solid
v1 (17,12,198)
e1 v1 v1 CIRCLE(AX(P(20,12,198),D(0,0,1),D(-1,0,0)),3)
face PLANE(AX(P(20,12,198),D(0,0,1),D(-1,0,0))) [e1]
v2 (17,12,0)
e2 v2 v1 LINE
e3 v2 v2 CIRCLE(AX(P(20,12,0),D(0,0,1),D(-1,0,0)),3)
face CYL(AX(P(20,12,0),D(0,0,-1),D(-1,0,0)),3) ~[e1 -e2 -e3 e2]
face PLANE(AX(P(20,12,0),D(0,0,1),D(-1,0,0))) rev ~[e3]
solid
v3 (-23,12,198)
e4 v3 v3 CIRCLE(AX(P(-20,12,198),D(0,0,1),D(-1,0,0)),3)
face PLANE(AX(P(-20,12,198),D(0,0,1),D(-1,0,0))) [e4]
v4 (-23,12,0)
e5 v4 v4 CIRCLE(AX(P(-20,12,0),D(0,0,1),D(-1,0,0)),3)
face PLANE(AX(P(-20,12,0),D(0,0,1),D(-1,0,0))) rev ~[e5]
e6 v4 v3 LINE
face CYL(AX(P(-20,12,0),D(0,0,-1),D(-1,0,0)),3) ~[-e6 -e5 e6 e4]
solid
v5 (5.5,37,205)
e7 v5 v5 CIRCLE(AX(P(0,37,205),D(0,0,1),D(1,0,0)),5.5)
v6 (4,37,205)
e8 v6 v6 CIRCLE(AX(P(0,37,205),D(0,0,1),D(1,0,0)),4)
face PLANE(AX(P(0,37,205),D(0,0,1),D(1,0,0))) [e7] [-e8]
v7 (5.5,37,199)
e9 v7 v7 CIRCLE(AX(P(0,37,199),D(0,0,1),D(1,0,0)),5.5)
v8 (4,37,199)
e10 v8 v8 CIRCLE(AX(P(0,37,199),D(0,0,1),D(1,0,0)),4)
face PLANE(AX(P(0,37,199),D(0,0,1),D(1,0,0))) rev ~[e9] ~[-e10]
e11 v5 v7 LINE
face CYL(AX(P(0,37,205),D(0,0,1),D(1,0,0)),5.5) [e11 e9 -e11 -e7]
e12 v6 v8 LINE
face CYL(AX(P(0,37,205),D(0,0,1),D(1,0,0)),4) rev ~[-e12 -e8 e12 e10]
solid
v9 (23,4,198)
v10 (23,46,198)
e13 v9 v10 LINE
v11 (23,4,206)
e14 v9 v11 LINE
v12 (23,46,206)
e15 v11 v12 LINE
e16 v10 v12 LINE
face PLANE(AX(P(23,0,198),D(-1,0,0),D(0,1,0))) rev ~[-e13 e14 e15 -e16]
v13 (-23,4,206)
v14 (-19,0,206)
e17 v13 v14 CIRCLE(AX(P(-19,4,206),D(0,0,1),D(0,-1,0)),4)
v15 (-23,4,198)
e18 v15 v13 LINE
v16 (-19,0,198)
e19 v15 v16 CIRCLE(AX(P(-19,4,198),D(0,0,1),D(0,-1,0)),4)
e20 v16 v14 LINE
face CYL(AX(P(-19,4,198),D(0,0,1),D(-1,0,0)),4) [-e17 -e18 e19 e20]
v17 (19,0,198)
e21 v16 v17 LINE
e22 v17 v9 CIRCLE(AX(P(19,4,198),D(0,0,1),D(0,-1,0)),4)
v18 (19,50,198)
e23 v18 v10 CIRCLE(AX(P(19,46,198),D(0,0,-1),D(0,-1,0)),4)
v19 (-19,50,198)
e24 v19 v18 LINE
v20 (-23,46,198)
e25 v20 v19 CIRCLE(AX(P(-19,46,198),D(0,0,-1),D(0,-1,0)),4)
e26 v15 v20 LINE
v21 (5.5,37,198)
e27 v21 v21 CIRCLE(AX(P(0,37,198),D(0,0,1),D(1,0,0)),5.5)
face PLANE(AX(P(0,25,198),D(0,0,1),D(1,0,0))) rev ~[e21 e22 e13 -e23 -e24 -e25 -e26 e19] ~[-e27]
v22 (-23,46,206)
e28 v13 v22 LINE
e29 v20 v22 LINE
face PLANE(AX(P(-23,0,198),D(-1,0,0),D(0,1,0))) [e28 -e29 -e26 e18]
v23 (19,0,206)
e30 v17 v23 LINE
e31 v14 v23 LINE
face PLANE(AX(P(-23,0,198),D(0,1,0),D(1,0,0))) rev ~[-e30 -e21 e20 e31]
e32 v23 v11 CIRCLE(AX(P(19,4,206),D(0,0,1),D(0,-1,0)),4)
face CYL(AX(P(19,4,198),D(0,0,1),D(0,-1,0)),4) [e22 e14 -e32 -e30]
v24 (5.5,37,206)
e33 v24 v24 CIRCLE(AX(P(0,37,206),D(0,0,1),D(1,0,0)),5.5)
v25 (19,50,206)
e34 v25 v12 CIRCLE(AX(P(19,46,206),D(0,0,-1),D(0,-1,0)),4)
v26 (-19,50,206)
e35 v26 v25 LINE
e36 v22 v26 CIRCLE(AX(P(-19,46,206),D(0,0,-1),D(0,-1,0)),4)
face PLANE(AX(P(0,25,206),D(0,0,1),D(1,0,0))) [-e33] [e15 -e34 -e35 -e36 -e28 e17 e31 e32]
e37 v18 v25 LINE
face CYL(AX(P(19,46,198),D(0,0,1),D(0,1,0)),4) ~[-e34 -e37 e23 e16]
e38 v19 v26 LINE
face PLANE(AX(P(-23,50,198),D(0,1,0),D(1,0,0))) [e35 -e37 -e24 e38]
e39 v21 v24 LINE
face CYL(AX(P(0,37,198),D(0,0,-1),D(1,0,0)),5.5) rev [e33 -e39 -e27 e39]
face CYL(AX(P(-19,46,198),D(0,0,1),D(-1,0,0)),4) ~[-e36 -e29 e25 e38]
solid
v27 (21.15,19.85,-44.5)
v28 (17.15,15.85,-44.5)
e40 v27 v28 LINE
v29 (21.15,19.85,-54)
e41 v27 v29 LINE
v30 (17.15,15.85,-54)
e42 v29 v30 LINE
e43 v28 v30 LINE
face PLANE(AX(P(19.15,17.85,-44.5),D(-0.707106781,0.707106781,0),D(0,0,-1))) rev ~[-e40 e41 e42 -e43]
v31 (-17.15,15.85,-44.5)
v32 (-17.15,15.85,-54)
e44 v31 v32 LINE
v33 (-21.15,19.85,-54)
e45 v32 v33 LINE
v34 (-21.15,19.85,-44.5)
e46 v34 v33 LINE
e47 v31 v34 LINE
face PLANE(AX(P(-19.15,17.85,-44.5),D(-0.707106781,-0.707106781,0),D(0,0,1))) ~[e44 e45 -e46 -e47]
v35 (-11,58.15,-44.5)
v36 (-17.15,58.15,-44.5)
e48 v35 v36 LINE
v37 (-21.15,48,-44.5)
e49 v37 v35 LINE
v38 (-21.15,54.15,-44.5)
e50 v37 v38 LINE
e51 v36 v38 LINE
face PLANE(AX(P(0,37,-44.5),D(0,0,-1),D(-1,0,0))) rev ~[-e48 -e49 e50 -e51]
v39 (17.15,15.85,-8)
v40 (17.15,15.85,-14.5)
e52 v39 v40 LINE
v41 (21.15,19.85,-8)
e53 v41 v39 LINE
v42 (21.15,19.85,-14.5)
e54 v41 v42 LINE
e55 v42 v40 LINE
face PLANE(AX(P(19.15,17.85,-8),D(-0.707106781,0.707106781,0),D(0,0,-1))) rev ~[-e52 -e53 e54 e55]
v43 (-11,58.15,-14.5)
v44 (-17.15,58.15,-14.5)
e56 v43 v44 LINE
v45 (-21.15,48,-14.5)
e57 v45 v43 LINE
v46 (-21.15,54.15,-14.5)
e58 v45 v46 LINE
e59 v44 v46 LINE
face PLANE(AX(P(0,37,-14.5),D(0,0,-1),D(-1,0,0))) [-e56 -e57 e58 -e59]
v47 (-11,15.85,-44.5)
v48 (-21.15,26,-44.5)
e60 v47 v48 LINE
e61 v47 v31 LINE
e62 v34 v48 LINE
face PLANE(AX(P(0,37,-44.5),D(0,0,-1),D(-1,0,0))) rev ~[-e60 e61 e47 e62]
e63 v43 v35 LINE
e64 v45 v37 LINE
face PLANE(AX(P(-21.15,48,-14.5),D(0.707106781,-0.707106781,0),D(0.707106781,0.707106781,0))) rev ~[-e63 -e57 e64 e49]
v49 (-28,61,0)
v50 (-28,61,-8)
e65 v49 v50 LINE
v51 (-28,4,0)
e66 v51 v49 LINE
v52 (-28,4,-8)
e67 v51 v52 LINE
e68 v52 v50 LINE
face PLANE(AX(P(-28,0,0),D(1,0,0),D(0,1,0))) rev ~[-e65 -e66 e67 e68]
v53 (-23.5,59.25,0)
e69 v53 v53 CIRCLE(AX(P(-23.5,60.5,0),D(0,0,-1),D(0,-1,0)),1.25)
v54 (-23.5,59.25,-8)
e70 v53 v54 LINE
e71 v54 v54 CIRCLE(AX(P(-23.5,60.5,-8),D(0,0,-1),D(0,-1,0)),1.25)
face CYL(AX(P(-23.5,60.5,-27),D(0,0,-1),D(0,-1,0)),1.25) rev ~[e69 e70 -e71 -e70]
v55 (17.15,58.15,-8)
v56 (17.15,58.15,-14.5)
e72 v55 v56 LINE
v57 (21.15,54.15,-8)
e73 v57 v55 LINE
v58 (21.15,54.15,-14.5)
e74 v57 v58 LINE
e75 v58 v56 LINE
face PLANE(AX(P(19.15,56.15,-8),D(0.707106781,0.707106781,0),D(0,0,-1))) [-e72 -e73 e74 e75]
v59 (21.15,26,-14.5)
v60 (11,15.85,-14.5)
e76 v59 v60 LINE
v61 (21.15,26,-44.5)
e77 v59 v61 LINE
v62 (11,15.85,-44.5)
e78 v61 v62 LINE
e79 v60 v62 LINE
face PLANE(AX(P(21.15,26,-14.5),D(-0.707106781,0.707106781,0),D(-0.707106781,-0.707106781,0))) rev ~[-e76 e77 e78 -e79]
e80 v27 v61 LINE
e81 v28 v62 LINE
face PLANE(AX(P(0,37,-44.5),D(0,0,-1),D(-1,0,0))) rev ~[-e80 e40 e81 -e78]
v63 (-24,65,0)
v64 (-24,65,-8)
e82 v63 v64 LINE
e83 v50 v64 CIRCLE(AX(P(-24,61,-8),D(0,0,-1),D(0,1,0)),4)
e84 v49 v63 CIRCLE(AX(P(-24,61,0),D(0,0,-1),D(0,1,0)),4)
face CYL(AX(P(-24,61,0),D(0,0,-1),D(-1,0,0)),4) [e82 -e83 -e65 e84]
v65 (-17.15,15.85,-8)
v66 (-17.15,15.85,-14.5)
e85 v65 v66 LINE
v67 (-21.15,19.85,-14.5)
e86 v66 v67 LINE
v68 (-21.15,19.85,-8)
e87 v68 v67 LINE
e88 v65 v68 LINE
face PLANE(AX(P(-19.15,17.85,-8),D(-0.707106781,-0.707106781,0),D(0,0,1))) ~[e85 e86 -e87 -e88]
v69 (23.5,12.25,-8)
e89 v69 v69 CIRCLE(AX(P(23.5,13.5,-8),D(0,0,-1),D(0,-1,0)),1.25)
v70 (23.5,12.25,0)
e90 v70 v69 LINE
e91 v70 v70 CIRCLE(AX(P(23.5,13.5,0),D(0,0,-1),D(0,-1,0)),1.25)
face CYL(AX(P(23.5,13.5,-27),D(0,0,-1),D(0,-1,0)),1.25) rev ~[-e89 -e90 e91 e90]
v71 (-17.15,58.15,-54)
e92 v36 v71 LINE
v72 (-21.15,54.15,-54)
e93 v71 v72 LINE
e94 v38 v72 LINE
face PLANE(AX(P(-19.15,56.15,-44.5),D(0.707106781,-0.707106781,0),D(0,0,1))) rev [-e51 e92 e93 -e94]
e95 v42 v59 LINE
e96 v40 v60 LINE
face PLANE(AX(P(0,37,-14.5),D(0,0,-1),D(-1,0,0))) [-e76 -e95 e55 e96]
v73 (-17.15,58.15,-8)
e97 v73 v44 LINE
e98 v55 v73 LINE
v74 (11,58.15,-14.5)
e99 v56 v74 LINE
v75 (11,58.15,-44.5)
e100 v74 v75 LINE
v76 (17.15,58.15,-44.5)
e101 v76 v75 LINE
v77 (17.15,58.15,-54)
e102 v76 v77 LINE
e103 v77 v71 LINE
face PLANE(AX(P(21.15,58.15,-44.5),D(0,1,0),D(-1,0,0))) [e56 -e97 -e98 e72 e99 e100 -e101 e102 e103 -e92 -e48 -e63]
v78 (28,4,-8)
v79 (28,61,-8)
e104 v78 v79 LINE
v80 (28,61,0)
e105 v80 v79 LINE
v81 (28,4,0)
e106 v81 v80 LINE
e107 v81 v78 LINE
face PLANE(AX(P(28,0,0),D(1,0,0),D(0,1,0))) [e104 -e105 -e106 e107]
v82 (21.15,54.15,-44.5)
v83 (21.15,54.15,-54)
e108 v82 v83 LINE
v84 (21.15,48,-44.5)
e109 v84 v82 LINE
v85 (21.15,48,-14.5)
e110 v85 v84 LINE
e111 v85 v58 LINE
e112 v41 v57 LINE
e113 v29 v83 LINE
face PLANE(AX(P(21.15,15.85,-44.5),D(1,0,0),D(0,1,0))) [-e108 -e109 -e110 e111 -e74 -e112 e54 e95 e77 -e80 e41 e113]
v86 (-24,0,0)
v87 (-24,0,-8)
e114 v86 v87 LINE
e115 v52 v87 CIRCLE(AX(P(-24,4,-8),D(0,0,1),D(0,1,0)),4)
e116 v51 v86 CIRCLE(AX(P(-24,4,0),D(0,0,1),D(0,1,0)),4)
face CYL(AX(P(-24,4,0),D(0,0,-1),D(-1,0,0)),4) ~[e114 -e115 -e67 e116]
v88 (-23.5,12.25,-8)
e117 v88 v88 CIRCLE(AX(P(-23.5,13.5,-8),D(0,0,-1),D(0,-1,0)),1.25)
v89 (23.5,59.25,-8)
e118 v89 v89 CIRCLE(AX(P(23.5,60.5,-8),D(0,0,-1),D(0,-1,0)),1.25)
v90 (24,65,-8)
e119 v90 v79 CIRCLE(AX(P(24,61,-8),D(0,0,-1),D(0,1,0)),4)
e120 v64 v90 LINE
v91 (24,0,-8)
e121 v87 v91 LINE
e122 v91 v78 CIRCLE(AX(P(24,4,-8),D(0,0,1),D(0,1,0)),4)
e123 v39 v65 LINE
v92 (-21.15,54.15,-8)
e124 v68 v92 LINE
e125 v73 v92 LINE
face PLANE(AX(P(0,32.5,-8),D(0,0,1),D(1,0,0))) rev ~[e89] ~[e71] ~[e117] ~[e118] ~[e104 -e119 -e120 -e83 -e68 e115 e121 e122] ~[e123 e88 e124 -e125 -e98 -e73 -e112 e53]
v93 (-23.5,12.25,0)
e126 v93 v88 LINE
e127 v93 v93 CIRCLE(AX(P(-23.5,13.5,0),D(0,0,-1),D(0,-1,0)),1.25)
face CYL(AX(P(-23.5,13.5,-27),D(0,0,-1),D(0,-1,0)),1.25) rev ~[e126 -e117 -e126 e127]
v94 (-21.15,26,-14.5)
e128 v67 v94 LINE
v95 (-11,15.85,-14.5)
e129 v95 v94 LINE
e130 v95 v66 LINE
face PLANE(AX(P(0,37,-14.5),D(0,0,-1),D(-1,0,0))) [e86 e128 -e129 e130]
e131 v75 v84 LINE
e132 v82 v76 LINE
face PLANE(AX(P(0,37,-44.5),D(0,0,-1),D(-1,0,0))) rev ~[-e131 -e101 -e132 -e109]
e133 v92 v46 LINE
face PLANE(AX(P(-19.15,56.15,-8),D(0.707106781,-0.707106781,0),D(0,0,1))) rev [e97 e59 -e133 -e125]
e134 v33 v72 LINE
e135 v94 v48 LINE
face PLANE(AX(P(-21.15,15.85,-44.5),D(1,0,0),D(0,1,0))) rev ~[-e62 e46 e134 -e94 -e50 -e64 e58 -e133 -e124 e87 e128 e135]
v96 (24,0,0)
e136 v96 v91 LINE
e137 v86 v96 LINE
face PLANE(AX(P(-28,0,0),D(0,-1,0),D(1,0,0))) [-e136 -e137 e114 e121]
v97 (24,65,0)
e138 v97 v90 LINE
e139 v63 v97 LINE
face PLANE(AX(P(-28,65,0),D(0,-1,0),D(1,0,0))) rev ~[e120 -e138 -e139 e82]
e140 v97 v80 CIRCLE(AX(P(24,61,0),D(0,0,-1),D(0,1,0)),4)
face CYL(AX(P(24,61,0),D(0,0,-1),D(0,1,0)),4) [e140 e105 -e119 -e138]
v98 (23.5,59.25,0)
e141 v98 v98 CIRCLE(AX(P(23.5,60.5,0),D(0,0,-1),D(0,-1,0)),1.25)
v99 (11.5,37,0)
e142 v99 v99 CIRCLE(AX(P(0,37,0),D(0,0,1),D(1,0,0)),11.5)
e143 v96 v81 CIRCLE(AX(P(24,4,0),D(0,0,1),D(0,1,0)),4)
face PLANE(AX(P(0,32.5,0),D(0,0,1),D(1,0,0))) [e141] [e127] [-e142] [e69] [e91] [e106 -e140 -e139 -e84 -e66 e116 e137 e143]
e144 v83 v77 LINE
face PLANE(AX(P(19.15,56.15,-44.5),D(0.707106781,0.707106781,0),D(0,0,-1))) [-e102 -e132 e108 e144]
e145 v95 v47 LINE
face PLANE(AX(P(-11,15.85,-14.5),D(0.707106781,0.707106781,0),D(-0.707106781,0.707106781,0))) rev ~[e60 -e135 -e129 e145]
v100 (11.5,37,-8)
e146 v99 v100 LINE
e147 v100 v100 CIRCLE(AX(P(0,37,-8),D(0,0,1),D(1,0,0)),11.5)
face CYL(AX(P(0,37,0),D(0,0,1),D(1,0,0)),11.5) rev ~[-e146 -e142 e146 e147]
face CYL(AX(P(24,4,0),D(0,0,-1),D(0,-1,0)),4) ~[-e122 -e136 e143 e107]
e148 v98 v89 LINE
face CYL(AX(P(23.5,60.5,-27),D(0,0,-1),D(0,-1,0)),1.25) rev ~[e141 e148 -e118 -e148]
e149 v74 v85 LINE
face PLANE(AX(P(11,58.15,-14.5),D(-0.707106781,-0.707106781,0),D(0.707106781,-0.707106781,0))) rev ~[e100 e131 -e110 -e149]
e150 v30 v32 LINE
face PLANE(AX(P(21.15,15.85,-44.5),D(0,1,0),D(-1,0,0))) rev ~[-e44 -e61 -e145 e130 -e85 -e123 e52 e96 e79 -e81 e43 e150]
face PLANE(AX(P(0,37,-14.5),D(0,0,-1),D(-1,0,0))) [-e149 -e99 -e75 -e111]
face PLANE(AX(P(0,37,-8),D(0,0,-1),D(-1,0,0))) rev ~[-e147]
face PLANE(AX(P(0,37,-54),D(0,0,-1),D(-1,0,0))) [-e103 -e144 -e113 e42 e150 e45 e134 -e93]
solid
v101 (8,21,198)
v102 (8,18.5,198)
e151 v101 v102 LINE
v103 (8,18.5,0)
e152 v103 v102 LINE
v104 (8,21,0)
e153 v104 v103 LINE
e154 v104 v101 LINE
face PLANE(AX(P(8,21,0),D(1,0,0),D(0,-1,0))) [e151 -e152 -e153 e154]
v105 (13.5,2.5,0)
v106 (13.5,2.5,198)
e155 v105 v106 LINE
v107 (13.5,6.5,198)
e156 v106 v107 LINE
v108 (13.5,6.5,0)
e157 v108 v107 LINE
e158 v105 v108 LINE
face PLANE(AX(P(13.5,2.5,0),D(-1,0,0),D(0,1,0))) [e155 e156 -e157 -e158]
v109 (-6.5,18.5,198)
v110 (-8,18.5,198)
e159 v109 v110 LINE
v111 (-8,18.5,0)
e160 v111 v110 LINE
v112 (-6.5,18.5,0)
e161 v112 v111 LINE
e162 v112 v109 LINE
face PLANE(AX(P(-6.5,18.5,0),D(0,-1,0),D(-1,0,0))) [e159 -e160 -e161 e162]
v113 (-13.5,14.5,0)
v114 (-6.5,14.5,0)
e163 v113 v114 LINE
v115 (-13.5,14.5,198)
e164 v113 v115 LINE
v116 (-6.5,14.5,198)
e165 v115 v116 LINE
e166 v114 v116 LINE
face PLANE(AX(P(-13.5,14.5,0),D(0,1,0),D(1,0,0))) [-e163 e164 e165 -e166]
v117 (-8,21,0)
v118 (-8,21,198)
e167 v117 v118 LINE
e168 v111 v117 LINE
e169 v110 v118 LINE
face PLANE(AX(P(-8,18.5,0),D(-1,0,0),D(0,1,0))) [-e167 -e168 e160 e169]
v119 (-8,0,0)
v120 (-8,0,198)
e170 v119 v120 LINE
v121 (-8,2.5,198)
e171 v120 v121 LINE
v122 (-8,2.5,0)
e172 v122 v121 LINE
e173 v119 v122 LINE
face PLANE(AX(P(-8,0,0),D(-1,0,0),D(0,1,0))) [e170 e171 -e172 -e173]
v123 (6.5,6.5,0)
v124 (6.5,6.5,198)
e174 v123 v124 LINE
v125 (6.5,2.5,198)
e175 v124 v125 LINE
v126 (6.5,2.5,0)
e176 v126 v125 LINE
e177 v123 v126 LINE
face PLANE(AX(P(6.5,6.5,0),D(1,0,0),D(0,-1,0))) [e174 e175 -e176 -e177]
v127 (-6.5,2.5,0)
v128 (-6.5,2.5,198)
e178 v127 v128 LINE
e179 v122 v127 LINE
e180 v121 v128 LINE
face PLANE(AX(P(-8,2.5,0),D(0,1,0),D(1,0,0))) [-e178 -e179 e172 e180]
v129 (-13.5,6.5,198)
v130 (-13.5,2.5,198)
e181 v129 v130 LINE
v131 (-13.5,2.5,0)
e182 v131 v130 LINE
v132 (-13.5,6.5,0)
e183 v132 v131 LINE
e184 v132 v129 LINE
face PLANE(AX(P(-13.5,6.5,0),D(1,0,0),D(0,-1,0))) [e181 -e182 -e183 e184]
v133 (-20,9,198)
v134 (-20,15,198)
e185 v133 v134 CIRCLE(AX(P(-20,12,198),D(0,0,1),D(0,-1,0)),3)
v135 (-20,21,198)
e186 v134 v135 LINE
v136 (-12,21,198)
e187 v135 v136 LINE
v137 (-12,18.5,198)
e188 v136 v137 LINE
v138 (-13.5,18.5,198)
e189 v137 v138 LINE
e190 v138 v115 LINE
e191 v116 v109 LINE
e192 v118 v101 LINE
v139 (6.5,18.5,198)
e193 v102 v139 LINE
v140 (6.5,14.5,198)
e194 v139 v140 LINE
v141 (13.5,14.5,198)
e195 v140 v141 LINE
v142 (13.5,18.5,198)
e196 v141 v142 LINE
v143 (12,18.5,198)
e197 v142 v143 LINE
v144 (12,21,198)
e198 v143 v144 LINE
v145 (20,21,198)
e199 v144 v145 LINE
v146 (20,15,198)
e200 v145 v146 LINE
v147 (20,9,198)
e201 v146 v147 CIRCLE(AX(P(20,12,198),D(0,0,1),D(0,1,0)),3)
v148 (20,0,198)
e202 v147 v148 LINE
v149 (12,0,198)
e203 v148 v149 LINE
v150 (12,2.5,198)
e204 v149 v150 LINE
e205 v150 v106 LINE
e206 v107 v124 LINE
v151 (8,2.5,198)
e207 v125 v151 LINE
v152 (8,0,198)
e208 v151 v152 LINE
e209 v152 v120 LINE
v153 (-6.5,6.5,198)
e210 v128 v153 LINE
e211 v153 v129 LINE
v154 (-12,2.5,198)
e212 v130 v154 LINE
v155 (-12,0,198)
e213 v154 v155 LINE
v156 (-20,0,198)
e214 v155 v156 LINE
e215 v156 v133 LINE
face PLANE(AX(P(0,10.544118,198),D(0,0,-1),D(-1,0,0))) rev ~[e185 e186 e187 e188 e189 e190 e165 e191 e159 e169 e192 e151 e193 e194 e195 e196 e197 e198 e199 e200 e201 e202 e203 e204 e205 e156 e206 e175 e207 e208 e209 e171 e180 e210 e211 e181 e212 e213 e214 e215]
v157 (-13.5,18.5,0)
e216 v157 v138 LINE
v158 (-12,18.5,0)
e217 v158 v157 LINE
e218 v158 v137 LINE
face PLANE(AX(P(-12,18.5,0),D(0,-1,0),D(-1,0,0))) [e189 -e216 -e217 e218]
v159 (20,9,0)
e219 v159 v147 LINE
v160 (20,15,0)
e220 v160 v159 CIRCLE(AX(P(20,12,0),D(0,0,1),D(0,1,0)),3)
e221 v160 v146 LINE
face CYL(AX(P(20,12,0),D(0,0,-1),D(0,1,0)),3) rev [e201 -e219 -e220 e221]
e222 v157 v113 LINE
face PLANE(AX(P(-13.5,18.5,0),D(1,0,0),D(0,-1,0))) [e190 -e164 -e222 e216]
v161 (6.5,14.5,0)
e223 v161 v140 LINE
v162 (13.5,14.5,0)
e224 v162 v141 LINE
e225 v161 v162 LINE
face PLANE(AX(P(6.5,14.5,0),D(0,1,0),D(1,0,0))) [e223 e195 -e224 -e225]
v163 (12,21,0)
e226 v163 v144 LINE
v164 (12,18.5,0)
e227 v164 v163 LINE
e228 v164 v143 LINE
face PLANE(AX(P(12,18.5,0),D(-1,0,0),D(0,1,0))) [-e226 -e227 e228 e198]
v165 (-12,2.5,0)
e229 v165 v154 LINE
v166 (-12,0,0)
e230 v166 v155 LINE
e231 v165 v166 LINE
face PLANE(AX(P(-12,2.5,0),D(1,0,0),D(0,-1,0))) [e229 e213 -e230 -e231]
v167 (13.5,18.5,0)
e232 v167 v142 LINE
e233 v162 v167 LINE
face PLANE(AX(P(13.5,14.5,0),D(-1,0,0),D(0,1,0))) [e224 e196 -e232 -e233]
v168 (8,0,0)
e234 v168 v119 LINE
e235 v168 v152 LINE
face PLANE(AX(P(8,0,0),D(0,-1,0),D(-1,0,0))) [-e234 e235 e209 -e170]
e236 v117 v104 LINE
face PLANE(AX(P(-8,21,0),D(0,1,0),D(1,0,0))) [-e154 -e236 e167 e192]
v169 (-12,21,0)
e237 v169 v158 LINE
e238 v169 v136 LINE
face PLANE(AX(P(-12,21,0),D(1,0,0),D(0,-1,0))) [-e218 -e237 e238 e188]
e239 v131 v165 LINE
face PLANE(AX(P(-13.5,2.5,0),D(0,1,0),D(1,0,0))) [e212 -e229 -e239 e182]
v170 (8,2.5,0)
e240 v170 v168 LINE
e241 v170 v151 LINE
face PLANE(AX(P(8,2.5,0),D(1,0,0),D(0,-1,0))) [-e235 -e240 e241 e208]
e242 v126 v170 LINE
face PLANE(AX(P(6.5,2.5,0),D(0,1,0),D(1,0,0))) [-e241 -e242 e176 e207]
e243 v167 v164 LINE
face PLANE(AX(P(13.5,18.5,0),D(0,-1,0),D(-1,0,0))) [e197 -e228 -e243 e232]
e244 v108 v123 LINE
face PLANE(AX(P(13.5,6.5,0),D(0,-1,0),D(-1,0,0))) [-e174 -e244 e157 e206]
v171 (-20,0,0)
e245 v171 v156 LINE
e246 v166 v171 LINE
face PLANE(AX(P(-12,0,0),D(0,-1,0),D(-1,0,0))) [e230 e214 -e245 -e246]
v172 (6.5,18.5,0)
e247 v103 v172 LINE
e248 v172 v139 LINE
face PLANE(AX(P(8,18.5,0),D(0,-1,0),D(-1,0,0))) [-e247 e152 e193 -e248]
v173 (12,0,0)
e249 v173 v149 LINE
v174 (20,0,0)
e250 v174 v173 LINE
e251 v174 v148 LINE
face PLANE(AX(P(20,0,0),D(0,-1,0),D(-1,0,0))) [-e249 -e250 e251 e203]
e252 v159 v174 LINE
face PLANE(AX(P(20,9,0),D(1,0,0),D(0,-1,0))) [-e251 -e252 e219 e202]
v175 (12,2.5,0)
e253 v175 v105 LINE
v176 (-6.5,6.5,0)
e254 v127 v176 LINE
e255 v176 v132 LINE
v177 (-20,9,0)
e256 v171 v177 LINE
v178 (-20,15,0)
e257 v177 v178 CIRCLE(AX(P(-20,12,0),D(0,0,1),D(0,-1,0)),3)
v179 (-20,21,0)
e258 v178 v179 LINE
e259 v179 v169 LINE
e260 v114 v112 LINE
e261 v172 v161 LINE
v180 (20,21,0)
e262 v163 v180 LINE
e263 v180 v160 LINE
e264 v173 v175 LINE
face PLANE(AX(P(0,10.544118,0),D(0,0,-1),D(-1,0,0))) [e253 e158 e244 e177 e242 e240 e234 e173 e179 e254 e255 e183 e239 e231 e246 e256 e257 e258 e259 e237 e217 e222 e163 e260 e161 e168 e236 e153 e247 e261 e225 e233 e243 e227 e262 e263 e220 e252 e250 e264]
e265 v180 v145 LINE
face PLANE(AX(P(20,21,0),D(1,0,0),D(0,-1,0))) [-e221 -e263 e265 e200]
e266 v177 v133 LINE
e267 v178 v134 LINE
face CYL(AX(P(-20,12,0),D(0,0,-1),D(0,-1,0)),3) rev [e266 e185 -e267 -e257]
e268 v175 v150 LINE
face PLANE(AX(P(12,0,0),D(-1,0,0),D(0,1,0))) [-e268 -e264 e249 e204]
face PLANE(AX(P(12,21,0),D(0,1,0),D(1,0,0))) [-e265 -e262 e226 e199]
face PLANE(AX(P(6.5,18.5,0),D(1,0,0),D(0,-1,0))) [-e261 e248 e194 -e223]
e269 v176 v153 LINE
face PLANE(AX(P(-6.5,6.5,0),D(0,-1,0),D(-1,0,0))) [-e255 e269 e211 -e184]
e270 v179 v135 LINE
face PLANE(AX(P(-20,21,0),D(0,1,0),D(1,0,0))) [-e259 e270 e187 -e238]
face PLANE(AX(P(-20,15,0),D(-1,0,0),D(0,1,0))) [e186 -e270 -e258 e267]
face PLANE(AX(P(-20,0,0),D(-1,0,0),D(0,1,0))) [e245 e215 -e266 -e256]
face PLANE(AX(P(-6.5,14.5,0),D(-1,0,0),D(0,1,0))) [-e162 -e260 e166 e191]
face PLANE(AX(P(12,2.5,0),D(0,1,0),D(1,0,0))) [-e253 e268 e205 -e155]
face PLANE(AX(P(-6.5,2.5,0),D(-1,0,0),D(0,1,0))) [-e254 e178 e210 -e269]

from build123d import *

# Parameters (mm, degrees)
SKETCH2_W                            = 56
SKETCH2_H                            = 65
SKETCH2_R                            = 11.5
BOSS_EXTRUDE2_DEPTH                  = 8
BOSS_EXTRUDE1_DEPTH                  = 198
SKETCH3_W                            = 46
SKETCH3_H                            = 50
SKETCH3_R                            = 5.5
BOSS_EXTRUDE3_DEPTH                  = 8
SKETCH4_R                            = 5.5
SKETCH4_R_2                          = 4
BOSS_EXTRUDE4_DEPTH                  = 6
FILLET1_R                            = 4
FILLET2_R                            = 4
SKETCH5_R                            = 3
BOSS_EXTRUDE5_DEPTH                  = 198
BOSS_EXTRUDE5_2_DEPTH                = 198
SKETCH6_W                            = 42.3
SKETCH6_H                            = 42.3
BOSS_EXTRUDE6_DEPTH                  = 6.5
BOSS_EXTRUDE7_DEPTH                  = 30
SKETCH8_W                            = 42.3
SKETCH8_H                            = 42.3
BOSS_EXTRUDE8_DEPTH                  = 9.5
CHAMFER1_SIZE                        = 4
SKETCH11_W                           = 1.25
SKETCH11_H                           = 54
TAP_DRILL_FOR_M3X0_5_TAP1_AT_2_COUNT = 2
TAP_DRILL_FOR_M3X0_5_TAP1_AT_2_PITCH = 47
TAP_DRILL_FOR_M3X0_5_TAP1_AT_3_COUNT = 2
TAP_DRILL_FOR_M3X0_5_TAP1_AT_3_PITCH = 66.468037432
TAP_DRILL_FOR_M3X0_5_TAP1_AT_4_COUNT = 2
TAP_DRILL_FOR_M3X0_5_TAP1_AT_4_PITCH = 47


with BuildPart() as part:
    # Sketch2 → Boss-Extrude2 (new body)
    with BuildSketch(Plane.XY):
        with Locations((0, 32.5)):
            Rectangle(SKETCH2_W, SKETCH2_H)
        with Locations((0, 37)):
            Circle(SKETCH2_R, mode=Mode.SUBTRACT)
    extrude(amount=-BOSS_EXTRUDE2_DEPTH)

    # Fillet1
    fillet1_edges = [part.edges().sort_by_distance(p)[0] for p in [
        (-28, 65, -4),
        (28, 65, -4),
        (28, 0, -4),
        (-28, 0, -4),
    ]]
    fillet(fillet1_edges, radius=FILLET1_R)

    # Sketch6 → Boss-Extrude6 (add)
    with BuildSketch(Plane(origin=(0, 0, -8), x_dir=(-1, 0, 0), z_dir=(0, 0, -1))):
        with Locations((0, 37)):
            Rectangle(SKETCH6_W, SKETCH6_H)
    extrude(amount=BOSS_EXTRUDE6_DEPTH)

    # Sketch7 → Boss-Extrude7 (add)
    with BuildSketch(Plane(origin=(0, 0, -14.5), x_dir=(-1, 0, 0), z_dir=(0, 0, -1))):
        Polygon((-11, 58.15), (-21.15, 48), (-21.15, 26), (-11, 15.85), (11, 15.85), (21.15, 26), (21.15, 48), (11, 58.15), align=None)
    extrude(amount=BOSS_EXTRUDE7_DEPTH)

    # Sketch8 → Boss-Extrude8 (add)
    with BuildSketch(Plane(origin=(0, 0, -44.5), x_dir=(-1, 0, 0), z_dir=(0, 0, -1))):
        with Locations((0, 37)):
            Rectangle(SKETCH8_W, SKETCH8_H)
    extrude(amount=BOSS_EXTRUDE8_DEPTH)

    # Chamfer1
    chamfer1_edges = [part.edges().sort_by_distance(p)[0] for p in [
        (-21.15, 15.85, -11.25),
        (-21.15, 58.15, -11.25),
        (21.15, 58.15, -11.25),
        (21.15, 15.85, -11.25),
        (21.15, 58.15, -49.25),
        (21.15, 15.85, -49.25),
        (-21.15, 15.85, -49.25),
        (-21.15, 58.15, -49.25),
    ]]
    chamfer(chamfer1_edges, length=CHAMFER1_SIZE)

    # Sketch11 → Tap Drill for M3x0.5 Tap1 (revolve, cut)
    with BuildSketch(Plane(origin=(23.5, 60.5, 0), x_dir=(0, -1, 0), z_dir=(1, 0, 0))):
        with Locations((0.625, 27)):
            Rectangle(SKETCH11_W, SKETCH11_H)
    tap_drill_for_m3x0_5_tap1 = revolve(axis=Axis((23.5, 60.5, 6.35), (0, 0, -1)), mode=Mode.SUBTRACT)

    # Tap Drill for M3x0.5 Tap1 at 2: Tap Drill for M3x0.5 Tap1 ×2
    with Locations(*[(-i * TAP_DRILL_FOR_M3X0_5_TAP1_AT_2_PITCH, 0, 0) for i in range(1, TAP_DRILL_FOR_M3X0_5_TAP1_AT_2_COUNT)]):
        add(tap_drill_for_m3x0_5_tap1, mode=Mode.SUBTRACT)

    # Tap Drill for M3x0.5 Tap1 at 3: Tap Drill for M3x0.5 Tap1 ×2
    with Locations(*[Vector(-0.7071067811865475, -0.7071067811865477, 0) * (i * TAP_DRILL_FOR_M3X0_5_TAP1_AT_3_PITCH) for i in range(1, TAP_DRILL_FOR_M3X0_5_TAP1_AT_3_COUNT)]):
        add(tap_drill_for_m3x0_5_tap1, mode=Mode.SUBTRACT)

    # Tap Drill for M3x0.5 Tap1 at 4: Tap Drill for M3x0.5 Tap1 ×2
    with Locations(*[(0, -i * TAP_DRILL_FOR_M3X0_5_TAP1_AT_4_PITCH, 0) for i in range(1, TAP_DRILL_FOR_M3X0_5_TAP1_AT_4_COUNT)]):
        add(tap_drill_for_m3x0_5_tap1, mode=Mode.SUBTRACT)


with BuildPart() as body_2:
    # Sketch1 → Boss-Extrude1 (new body)
    with BuildSketch(Plane.XY):
        with BuildLine():
            Line((8, 0), (-8, 0))
            Line((-8, 0), (-8, 2.5))
            Line((-8, 2.5), (-6.5, 2.5))
            Line((-6.5, 2.5), (-6.5, 6.5))
            Line((-6.5, 6.5), (-13.5, 6.5))
            Line((-13.5, 6.5), (-13.5, 2.5))
            Line((-13.5, 2.5), (-12, 2.5))
            Line((-12, 2.5), (-12, 0))
            Line((-12, 0), (-20, 0))
            Line((-20, 0), (-20, 9))
            ThreePointArc((-20, 9), (-17, 12), (-20, 15))
            Line((-20, 15), (-20, 21))
            Line((-20, 21), (-12, 21))
            Line((-12, 21), (-12, 18.5))
            Line((-12, 18.5), (-13.5, 18.5))
            Line((-13.5, 18.5), (-13.5, 14.5))
            Line((-13.5, 14.5), (-6.5, 14.5))
            Line((-6.5, 14.5), (-6.5, 18.5))
            Line((-6.5, 18.5), (-8, 18.5))
            Line((-8, 18.5), (-8, 21))
            Line((-8, 21), (8, 21))
            Line((8, 21), (8, 18.5))
            Line((8, 18.5), (6.5, 18.5))
            Line((6.5, 18.5), (6.5, 14.5))
            Line((6.5, 14.5), (13.5, 14.5))
            Line((13.5, 14.5), (13.5, 18.5))
            Line((13.5, 18.5), (12, 18.5))
            Line((12, 18.5), (12, 21))
            Line((12, 21), (20, 21))
            Line((20, 21), (20, 15))
            ThreePointArc((20, 15), (17, 12), (20, 9))
            Line((20, 9), (20, 0))
            Line((20, 0), (12, 0))
            Line((12, 0), (12, 2.5))
            Line((12, 2.5), (13.5, 2.5))
            Line((13.5, 2.5), (13.5, 6.5))
            Line((13.5, 6.5), (6.5, 6.5))
            Line((6.5, 6.5), (6.5, 2.5))
            Line((6.5, 2.5), (8, 2.5))
            Line((8, 2.5), (8, 0))
        make_face()
    extrude(amount=BOSS_EXTRUDE1_DEPTH)


with BuildPart() as body_3:
    # Sketch3 → Boss-Extrude3 (new body)
    with BuildSketch(Plane.XY.offset(198)):
        with Locations((0, 25)):
            Rectangle(SKETCH3_W, SKETCH3_H)
        with Locations((0, 37)):
            Circle(SKETCH3_R, mode=Mode.SUBTRACT)
    extrude(amount=BOSS_EXTRUDE3_DEPTH)

    # Fillet2
    fillet2_edges = [body_3.edges().sort_by_distance(p)[0] for p in [
        (-23, 50, 202),
        (23, 50, 202),
        (23, 0, 202),
        (-23, 0, 202),
    ]]
    fillet(fillet2_edges, radius=FILLET2_R)


with BuildPart() as body_4:
    # Sketch4 → Boss-Extrude4 (new body)
    with BuildSketch(Plane.XY.offset(205)):
        with Locations((0, 37)):
            Circle(SKETCH4_R)
        with Locations((0, 37)):
            Circle(SKETCH4_R_2, mode=Mode.SUBTRACT)
    extrude(amount=-BOSS_EXTRUDE4_DEPTH)


with BuildPart() as body_5:
    # Sketch5 → Boss-Extrude5 (new body)
    with BuildSketch(Plane.XY):
        with Locations(Location((-20, 12, 0), (0, 0, 180))):
            Circle(SKETCH5_R)
    extrude(amount=BOSS_EXTRUDE5_DEPTH)


with BuildPart() as body_6:
    # Sketch5 → Boss-Extrude5 2 (new body)
    with BuildSketch(Plane.XY):
        with Locations(Location((20, 12, 0), (0, 0, 180))):
            Circle(SKETCH5_R)
    extrude(amount=BOSS_EXTRUDE5_2_DEPTH)


solid = Compound([part.part, body_2.part, body_3.part, body_4.part, body_5.part, body_6.part])
